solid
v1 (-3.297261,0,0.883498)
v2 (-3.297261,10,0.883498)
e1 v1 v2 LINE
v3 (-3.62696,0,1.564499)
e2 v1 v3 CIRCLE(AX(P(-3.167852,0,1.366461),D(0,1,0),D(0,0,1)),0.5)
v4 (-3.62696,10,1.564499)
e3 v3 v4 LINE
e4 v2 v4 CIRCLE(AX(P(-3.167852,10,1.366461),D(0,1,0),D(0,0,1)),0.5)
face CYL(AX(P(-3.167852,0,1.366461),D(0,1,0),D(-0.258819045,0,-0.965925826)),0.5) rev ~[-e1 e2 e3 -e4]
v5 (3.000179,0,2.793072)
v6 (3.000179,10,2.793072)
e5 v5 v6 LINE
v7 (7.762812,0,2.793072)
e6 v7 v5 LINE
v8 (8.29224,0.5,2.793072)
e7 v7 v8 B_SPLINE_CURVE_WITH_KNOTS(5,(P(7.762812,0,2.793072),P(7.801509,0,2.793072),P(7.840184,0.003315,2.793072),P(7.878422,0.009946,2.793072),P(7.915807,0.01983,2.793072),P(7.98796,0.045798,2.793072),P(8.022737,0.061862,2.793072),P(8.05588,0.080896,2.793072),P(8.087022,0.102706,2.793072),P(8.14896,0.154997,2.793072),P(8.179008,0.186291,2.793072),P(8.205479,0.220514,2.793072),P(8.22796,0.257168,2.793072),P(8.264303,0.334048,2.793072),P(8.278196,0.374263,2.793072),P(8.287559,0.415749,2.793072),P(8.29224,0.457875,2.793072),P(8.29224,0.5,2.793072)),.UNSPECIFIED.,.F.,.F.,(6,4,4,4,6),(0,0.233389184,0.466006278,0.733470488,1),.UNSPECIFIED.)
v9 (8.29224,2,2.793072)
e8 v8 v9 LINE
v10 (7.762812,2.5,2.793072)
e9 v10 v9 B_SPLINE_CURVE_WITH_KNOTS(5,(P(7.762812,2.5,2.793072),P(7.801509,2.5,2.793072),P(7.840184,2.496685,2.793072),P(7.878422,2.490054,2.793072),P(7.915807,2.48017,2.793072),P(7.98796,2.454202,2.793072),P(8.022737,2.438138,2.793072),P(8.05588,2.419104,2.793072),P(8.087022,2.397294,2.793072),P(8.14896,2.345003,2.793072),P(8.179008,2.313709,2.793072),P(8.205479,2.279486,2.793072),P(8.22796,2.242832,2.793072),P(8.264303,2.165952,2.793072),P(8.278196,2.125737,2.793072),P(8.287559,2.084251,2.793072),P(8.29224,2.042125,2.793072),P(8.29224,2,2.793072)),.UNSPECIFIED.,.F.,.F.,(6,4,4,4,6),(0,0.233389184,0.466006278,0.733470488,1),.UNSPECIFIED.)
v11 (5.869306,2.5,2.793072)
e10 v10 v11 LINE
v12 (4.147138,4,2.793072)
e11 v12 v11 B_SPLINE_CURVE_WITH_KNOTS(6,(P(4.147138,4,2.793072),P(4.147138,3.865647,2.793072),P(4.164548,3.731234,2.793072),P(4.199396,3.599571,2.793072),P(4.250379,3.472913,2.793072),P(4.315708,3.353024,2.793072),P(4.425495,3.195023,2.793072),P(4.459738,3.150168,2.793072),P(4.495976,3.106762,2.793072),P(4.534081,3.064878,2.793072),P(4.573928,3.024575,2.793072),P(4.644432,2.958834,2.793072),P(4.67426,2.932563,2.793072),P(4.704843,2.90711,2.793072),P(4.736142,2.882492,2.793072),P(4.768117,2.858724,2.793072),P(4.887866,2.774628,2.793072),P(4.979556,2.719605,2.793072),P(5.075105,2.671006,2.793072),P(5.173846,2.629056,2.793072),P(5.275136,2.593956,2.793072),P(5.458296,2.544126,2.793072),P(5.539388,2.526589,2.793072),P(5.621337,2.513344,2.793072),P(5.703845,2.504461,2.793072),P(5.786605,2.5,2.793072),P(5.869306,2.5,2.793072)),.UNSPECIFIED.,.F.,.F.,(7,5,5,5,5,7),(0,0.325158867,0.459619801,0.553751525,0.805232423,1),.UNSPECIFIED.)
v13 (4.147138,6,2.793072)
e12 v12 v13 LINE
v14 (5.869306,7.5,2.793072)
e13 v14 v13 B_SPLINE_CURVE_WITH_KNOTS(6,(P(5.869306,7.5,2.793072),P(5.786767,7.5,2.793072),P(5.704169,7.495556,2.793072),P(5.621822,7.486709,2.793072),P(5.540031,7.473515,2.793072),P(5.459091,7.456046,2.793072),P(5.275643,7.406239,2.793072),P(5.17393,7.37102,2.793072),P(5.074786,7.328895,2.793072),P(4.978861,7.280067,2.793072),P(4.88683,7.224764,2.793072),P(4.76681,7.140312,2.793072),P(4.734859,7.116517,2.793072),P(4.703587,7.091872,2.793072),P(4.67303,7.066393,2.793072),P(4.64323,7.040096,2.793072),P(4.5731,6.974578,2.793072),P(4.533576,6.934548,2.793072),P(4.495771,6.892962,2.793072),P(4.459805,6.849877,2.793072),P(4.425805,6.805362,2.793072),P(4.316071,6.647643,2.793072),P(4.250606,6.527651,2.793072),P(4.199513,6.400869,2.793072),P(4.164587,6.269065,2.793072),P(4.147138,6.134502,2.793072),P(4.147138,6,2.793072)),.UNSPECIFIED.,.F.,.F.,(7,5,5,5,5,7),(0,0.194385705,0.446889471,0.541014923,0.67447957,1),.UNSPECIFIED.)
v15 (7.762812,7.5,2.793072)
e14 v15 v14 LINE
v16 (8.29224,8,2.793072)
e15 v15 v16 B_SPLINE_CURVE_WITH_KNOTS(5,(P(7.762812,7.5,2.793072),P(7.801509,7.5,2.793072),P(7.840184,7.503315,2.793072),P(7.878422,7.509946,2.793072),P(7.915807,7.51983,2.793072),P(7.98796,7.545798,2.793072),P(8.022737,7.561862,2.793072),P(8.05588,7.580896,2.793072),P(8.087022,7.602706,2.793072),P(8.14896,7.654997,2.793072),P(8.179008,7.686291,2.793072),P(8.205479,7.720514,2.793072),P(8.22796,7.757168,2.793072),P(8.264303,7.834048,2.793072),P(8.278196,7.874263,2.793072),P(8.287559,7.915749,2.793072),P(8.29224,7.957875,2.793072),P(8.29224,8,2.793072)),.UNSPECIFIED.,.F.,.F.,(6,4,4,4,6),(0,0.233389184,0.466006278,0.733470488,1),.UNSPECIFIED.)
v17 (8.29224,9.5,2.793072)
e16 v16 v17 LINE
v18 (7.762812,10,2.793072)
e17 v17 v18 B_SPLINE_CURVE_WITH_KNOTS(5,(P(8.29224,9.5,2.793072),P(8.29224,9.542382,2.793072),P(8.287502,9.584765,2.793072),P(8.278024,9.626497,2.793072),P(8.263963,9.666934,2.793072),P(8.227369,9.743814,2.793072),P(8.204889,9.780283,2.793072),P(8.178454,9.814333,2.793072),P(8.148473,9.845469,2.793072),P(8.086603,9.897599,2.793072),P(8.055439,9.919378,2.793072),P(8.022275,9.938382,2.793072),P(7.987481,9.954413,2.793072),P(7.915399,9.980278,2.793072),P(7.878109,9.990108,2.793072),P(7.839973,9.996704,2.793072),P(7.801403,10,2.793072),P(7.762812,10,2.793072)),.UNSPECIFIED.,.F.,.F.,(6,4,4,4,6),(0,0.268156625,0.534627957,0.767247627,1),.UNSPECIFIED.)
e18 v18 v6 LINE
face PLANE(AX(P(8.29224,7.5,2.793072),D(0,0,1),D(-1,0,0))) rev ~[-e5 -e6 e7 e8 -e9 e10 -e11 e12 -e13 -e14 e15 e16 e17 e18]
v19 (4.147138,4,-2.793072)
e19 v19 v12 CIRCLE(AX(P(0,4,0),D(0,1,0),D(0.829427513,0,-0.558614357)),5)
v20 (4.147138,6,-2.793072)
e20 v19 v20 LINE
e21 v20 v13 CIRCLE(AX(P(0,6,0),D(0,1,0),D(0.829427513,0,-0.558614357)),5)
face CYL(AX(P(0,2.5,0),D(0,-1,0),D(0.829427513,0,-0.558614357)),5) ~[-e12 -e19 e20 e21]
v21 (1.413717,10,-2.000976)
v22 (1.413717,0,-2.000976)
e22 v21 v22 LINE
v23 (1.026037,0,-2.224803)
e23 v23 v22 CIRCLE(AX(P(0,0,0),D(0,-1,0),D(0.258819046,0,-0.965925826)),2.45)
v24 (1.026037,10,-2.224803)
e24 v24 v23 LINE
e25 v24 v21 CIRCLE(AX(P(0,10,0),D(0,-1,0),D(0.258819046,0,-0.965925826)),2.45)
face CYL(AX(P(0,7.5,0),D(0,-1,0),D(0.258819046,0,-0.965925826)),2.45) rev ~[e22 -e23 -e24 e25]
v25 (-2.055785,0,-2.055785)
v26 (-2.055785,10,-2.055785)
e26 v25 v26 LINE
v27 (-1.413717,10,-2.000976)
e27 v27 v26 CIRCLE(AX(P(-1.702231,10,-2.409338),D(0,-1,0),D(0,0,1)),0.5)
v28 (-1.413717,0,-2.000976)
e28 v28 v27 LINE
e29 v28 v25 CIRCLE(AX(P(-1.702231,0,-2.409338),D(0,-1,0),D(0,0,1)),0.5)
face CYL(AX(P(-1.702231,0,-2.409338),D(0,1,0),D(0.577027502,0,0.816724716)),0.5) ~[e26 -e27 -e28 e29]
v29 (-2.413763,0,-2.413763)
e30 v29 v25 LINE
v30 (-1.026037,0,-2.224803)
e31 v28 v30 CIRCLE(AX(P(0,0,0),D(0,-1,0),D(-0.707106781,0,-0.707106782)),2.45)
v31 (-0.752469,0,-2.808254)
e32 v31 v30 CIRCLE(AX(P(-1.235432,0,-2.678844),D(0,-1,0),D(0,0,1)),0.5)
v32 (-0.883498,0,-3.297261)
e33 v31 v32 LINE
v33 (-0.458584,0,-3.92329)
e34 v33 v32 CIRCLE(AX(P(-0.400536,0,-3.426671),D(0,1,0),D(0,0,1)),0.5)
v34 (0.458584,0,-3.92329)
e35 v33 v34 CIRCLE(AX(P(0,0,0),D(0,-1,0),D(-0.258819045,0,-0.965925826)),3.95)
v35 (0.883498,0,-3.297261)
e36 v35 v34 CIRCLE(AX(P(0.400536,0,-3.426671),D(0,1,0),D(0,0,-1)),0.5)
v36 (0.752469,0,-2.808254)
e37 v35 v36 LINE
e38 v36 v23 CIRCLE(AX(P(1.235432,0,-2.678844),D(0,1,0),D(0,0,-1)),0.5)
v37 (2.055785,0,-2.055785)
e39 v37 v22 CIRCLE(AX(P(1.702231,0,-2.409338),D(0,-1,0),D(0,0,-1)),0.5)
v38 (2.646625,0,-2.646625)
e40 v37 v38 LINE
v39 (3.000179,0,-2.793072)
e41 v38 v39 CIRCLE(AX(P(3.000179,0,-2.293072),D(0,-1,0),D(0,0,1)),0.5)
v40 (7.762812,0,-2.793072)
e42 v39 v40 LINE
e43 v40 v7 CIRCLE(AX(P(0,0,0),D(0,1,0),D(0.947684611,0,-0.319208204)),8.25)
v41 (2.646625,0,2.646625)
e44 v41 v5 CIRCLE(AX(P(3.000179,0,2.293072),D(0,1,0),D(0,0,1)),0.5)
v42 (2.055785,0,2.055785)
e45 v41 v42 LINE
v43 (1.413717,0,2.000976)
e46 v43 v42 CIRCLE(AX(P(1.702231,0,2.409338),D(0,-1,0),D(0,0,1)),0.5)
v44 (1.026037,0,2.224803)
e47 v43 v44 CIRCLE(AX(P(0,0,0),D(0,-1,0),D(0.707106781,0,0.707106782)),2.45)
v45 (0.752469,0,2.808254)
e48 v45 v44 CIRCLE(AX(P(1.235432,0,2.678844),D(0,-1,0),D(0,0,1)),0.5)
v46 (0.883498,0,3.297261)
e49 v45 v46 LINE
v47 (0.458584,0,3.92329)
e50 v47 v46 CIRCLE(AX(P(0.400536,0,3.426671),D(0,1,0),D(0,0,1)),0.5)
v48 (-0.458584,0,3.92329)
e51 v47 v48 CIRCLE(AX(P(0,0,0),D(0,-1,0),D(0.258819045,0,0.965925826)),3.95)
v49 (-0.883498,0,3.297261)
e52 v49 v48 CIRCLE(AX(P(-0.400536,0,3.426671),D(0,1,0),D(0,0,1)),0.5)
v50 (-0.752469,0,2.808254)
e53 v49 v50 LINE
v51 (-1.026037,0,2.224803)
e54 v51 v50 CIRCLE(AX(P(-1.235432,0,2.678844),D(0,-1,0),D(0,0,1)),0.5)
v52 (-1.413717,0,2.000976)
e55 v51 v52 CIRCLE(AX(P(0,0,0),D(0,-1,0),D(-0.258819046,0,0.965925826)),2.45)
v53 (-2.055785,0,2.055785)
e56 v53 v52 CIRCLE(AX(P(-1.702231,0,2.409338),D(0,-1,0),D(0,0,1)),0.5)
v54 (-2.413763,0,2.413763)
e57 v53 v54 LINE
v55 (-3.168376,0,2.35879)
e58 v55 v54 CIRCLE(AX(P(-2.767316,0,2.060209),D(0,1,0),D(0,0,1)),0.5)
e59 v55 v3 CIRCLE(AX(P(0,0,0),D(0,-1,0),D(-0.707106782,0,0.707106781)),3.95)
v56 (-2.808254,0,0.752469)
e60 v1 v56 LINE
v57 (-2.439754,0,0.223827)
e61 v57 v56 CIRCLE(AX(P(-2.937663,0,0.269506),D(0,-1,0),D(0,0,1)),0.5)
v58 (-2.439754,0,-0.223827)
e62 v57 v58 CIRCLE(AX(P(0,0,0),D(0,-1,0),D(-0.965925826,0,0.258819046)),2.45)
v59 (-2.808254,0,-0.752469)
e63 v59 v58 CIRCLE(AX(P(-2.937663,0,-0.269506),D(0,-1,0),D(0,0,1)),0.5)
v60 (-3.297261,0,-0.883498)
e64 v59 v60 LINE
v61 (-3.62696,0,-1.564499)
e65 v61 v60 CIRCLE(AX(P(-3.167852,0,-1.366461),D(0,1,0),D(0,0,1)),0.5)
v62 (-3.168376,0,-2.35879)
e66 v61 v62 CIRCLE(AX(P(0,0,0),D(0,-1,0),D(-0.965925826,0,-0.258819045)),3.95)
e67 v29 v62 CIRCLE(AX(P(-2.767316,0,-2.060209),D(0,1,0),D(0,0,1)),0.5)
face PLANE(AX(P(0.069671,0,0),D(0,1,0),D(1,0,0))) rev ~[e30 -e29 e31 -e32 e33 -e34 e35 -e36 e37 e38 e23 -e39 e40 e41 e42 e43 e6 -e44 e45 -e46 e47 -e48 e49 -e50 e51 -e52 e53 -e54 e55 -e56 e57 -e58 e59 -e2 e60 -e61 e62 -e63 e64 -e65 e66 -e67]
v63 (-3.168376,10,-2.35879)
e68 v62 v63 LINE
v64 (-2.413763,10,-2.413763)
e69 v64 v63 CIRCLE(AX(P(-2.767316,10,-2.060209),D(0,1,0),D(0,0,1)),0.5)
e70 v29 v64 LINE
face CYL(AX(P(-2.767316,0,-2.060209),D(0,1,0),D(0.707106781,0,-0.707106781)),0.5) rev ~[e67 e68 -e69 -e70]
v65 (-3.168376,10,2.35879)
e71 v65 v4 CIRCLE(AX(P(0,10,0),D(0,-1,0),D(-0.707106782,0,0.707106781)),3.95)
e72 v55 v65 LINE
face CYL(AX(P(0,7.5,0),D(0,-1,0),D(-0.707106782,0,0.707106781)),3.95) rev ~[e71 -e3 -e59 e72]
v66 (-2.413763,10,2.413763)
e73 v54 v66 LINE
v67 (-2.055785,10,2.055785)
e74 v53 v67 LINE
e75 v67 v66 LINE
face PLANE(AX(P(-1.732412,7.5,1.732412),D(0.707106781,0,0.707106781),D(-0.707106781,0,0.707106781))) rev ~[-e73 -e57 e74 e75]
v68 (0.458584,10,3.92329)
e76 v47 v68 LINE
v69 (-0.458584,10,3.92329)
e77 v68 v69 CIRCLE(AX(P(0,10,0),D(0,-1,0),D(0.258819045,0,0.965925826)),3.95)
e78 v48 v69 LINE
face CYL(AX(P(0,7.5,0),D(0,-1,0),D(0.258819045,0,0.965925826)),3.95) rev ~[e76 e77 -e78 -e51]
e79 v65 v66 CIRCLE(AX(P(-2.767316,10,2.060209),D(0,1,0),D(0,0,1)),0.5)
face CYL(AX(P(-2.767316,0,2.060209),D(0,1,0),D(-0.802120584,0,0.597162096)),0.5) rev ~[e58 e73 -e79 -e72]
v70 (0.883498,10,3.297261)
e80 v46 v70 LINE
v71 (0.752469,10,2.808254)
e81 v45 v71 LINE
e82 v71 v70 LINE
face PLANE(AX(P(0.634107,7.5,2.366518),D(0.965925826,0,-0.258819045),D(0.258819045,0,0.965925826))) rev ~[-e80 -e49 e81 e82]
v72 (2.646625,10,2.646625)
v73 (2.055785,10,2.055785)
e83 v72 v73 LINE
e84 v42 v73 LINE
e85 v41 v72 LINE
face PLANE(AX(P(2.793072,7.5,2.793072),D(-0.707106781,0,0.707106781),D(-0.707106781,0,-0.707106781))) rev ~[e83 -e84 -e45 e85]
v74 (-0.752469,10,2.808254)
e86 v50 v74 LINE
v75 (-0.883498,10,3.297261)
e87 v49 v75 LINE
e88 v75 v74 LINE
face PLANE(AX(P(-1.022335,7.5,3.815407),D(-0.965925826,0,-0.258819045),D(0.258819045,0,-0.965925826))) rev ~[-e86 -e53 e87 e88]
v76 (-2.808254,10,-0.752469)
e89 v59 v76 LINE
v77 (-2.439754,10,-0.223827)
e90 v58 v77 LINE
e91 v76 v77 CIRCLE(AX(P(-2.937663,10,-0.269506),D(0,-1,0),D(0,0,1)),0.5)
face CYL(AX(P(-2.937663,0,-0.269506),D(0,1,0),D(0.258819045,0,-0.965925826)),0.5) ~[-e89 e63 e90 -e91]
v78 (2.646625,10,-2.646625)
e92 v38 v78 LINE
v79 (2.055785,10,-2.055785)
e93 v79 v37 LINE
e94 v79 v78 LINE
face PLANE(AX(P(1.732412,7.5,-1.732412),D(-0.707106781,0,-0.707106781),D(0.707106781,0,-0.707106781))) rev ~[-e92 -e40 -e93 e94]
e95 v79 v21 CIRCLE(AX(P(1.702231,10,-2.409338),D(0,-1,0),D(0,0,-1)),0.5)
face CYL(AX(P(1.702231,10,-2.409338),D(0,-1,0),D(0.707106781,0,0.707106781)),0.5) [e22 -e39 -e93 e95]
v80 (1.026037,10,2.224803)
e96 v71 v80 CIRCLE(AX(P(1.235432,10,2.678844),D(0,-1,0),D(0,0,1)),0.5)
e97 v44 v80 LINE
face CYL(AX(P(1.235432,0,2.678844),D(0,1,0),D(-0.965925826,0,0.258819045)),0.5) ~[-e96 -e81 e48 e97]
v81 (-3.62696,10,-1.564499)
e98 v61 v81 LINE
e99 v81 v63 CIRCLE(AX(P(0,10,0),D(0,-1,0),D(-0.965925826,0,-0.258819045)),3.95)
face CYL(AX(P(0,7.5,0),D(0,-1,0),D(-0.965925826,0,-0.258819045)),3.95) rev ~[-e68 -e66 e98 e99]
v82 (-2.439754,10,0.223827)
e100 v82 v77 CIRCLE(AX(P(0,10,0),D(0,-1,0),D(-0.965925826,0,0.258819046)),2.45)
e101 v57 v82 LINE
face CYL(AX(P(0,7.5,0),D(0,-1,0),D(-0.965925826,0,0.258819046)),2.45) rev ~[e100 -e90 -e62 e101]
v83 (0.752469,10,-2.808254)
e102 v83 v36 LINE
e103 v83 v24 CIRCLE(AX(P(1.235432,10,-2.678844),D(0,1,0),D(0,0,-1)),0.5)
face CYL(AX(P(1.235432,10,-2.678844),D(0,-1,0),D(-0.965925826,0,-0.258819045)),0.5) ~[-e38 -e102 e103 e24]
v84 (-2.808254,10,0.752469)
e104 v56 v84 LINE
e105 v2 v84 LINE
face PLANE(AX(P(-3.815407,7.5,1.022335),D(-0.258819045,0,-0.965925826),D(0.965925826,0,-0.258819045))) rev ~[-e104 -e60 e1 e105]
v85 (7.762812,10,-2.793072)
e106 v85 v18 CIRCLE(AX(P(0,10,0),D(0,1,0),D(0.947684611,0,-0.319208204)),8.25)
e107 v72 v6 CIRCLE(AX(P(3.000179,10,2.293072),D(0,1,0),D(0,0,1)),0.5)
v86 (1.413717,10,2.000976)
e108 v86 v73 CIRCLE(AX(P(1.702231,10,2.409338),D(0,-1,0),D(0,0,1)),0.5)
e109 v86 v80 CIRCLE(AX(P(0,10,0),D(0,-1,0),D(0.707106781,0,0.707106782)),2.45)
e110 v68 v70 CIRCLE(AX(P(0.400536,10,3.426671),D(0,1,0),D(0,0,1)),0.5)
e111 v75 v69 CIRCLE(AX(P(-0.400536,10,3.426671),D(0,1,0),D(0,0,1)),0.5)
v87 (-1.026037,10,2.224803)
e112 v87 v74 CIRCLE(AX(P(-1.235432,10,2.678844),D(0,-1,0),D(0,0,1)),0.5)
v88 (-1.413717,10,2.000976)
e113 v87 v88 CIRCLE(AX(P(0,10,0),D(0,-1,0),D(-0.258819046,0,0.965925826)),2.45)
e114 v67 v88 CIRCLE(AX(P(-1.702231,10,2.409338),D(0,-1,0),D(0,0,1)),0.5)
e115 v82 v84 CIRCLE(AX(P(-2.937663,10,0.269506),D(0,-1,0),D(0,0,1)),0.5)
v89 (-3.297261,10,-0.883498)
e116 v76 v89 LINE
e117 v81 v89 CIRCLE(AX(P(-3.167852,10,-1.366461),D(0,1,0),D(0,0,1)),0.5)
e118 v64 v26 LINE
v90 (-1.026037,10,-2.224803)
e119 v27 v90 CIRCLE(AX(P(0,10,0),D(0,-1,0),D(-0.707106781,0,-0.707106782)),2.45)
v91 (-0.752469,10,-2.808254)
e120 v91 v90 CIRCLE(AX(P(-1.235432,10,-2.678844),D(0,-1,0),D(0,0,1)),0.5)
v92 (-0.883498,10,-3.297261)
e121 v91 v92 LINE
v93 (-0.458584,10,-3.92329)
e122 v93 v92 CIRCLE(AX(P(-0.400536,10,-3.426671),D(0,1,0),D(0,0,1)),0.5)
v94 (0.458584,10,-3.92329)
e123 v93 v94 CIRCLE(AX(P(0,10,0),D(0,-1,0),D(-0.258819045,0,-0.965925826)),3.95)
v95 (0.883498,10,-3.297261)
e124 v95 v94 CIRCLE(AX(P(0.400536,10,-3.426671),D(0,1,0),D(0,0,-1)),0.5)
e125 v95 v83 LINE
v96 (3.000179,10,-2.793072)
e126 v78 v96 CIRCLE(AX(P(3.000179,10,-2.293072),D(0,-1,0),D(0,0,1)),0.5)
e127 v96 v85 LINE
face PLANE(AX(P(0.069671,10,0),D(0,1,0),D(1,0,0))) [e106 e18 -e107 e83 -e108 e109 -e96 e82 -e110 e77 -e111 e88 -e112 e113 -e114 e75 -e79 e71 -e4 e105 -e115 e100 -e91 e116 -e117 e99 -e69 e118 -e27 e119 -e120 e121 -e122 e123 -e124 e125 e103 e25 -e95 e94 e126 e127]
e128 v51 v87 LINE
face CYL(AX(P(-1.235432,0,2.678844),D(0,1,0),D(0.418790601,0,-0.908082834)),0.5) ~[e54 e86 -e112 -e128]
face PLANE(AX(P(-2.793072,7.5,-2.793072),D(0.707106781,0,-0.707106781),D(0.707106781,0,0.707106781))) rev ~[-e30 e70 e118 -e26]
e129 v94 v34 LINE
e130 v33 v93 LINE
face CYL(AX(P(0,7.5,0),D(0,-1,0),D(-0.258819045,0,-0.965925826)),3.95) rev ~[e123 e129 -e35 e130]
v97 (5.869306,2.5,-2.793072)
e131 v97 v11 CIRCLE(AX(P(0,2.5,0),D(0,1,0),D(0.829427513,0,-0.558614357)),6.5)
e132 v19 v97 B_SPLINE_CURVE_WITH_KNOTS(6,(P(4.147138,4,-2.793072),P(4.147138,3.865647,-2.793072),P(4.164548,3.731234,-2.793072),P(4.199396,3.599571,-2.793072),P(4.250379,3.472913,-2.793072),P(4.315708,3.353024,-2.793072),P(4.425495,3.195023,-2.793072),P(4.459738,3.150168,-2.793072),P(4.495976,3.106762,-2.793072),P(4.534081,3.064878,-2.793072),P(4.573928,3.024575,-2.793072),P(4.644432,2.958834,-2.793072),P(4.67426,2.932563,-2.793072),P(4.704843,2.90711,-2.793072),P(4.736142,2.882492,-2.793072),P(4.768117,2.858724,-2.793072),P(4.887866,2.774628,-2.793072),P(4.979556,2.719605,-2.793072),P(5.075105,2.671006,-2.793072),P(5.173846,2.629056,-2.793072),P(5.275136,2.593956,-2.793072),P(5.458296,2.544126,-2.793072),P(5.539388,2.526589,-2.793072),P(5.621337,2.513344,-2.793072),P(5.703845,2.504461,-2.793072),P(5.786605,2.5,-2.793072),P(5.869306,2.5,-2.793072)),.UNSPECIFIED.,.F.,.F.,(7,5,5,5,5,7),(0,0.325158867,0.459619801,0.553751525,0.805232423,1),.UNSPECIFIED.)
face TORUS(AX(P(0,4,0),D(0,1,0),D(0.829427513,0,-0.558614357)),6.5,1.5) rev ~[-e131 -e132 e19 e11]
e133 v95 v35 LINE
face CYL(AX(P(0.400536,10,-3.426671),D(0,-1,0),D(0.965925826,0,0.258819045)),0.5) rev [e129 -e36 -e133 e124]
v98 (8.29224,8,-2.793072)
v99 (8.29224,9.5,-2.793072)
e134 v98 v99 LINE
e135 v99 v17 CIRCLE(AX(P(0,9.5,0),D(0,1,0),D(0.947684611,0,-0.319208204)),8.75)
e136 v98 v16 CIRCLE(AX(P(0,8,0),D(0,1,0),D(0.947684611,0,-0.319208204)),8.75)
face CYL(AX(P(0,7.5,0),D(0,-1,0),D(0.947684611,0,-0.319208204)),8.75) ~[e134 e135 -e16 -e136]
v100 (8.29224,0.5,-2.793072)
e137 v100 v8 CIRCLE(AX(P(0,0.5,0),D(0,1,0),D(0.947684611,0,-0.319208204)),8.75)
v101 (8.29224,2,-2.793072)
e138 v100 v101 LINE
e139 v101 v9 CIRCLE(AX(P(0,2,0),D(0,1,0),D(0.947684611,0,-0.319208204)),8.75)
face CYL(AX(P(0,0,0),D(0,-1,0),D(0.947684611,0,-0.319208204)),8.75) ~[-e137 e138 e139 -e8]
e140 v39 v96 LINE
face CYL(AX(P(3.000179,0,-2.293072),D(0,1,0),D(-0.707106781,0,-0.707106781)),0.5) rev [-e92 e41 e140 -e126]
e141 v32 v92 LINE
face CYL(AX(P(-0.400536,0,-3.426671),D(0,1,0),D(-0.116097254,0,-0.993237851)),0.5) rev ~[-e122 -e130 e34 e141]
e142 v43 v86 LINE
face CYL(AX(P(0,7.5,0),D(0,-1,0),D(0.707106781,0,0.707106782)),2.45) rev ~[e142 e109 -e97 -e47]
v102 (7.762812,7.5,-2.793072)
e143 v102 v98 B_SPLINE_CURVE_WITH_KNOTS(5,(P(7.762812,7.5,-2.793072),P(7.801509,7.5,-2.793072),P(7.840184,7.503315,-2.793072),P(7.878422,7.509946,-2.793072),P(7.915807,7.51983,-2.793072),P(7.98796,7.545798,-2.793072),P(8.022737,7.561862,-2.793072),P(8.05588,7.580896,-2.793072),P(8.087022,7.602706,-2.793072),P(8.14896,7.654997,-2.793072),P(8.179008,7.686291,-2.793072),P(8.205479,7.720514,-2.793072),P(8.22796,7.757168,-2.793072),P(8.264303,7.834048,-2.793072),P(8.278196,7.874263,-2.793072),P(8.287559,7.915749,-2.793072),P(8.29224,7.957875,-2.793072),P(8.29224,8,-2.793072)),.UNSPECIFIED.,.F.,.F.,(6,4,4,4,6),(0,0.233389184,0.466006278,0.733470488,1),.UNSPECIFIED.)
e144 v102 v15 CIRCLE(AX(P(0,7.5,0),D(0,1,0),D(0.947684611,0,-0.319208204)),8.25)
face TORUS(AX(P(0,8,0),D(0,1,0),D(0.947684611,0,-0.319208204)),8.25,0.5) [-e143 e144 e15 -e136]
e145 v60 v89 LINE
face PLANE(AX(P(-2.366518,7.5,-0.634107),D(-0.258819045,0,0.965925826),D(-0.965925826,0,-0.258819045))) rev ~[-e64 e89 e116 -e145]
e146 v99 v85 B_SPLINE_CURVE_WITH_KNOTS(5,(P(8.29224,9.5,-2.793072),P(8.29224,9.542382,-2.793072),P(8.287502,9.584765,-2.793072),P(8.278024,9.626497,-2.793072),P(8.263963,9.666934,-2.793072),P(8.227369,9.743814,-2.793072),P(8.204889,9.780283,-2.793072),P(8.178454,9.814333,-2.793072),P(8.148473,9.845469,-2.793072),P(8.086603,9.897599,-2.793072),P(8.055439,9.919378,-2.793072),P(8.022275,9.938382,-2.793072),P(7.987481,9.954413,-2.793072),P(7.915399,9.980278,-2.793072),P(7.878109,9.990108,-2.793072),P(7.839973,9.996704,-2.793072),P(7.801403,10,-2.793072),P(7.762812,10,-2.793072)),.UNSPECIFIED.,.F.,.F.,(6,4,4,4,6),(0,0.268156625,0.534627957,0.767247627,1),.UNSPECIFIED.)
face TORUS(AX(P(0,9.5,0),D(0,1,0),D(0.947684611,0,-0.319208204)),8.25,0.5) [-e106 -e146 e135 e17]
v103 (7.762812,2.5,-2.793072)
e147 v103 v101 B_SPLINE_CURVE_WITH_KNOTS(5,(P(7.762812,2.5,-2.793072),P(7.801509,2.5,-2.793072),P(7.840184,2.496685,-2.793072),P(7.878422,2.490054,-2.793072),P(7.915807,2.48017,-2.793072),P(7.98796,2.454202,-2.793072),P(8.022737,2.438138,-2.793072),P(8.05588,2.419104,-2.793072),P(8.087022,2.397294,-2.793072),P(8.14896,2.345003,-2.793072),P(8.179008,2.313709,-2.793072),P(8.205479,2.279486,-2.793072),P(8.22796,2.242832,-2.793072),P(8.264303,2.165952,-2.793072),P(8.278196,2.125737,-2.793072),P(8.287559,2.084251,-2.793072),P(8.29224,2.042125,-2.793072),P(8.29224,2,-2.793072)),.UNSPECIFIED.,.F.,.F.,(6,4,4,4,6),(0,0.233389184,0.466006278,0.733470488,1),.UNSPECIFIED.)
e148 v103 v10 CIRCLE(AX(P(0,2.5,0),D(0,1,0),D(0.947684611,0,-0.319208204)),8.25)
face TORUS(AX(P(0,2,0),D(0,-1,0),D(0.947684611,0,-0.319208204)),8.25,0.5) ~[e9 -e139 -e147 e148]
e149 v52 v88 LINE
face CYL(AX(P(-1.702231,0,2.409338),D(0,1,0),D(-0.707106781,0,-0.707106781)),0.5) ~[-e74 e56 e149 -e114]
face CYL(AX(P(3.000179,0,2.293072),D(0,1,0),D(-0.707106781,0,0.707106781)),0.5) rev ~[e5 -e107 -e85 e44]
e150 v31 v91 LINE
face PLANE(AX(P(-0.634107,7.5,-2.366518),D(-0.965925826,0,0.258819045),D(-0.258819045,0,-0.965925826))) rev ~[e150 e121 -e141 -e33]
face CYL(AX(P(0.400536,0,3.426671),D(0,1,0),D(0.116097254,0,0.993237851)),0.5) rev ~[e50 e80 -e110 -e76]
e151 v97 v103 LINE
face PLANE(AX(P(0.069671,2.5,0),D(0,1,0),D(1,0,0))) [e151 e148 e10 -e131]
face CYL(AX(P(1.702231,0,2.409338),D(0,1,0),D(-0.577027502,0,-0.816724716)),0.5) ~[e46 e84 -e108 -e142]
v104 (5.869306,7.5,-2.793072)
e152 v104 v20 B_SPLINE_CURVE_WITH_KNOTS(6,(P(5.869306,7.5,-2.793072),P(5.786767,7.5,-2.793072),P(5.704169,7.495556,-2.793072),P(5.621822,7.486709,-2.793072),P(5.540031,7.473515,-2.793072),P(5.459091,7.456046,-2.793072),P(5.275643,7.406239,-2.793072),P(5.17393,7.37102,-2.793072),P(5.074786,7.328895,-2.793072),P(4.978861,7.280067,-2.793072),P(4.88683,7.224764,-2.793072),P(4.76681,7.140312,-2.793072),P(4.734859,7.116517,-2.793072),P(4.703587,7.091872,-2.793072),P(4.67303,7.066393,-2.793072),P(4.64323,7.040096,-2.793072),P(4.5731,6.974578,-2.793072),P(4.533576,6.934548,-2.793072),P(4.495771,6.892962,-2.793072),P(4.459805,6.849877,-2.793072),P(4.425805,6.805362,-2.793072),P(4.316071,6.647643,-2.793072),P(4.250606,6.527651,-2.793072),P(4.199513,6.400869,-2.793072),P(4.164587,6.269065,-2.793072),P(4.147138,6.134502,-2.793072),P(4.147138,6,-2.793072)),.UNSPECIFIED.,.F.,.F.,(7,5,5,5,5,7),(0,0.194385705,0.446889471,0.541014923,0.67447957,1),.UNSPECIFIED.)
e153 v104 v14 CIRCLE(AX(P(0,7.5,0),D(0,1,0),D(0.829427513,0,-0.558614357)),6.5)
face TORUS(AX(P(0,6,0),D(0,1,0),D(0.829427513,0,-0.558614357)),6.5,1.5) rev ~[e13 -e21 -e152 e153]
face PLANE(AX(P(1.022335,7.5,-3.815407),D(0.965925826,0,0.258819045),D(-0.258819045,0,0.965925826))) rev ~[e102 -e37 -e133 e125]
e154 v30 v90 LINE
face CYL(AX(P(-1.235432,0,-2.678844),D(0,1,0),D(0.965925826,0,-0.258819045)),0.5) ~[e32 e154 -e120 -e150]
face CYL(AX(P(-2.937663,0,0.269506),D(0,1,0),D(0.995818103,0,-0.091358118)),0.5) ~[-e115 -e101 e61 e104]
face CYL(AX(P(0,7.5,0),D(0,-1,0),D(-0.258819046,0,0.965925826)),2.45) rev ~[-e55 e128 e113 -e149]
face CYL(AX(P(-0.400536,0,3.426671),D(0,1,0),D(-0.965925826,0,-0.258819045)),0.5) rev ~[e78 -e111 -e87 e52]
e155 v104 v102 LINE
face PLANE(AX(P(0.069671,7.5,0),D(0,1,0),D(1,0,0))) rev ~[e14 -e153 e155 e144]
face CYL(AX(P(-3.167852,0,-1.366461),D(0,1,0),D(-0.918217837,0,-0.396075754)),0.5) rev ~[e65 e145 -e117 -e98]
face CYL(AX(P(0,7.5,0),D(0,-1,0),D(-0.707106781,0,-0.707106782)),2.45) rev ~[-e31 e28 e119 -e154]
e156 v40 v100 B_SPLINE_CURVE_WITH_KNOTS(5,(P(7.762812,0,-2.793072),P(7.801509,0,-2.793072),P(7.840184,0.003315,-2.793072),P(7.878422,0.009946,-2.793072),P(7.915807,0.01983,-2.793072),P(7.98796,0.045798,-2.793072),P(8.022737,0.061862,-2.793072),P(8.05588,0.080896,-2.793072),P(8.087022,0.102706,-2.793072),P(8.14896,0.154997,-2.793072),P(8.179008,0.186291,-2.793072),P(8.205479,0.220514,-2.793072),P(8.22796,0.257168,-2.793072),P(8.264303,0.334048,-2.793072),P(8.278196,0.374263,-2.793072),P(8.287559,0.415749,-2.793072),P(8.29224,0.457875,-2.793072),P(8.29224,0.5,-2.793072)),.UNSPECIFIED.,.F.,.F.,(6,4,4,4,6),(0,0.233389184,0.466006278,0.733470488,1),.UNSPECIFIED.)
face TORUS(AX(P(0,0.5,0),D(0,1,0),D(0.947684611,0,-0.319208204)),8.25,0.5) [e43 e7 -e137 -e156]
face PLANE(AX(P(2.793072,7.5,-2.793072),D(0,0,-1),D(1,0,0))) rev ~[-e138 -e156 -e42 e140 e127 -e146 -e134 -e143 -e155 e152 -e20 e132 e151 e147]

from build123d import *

# Parameters (mm, degrees)
BOSS_EXTRUDE1_DEPTH = 2.5
BOSS_EXTRUDE2_DEPTH = 5
BOSS_EXTRUDE3_DEPTH = 2.5
FILLET1_R           = 0.5
FILLET2_R           = 1.5
FILLET3_R           = 0.5


with BuildPart() as part:
    # Sketch1 → Boss-Extrude1 (new body)
    with BuildSketch(Plane(origin=(0, 0, 0), x_dir=(1, 0, 0), z_dir=(0, 1, 0))):
        with BuildLine():
            Line((2.793071786, 2.793071786), (8.292240349, 2.793071786))
            ThreePointArc((8.292240349, 2.793071786), (-8.75, 0), (8.292240349, -2.793071786))
            Line((8.292240349, -2.793071786), (2.793071786, -2.793071786))
            Line((2.793071786, -2.793071786), (1.732411614, -1.732411614))
            ThreePointArc((1.732411614, -1.732411614), (1.225, -2.121762239), (0.634106661, -2.366518274))
            Line((0.634106661, -2.366518274), (1.022335228, -3.815407014))
            ThreePointArc((1.022335228, -3.815407014), (0, -3.95), (-1.022335228, -3.815407014))
            Line((-1.022335228, -3.815407014), (-0.634106661, -2.366518274))
            ThreePointArc((-0.634106661, -2.366518274), (-1.225, -2.121762239), (-1.732411614, -1.732411614))
            Line((-1.732411614, -1.732411614), (-2.793071786, -2.793071786))
            ThreePointArc((-2.793071786, -2.793071786), (-3.420800345, -1.975), (-3.815407014, -1.022335228))
            Line((-3.815407014, -1.022335228), (-2.366518274, -0.634106661))
            ThreePointArc((-2.366518274, -0.634106661), (-2.45, 0), (-2.366518274, 0.634106661))
            Line((-2.366518274, 0.634106661), (-3.815407014, 1.022335228))
            ThreePointArc((-3.815407014, 1.022335228), (-3.420800345, 1.975), (-2.793071786, 2.793071786))
            Line((-2.793071786, 2.793071786), (-1.732411614, 1.732411614))
            ThreePointArc((-1.732411614, 1.732411614), (-1.225, 2.121762239), (-0.634106661, 2.366518274))
            Line((-0.634106661, 2.366518274), (-1.022335228, 3.815407014))
            ThreePointArc((-1.022335228, 3.815407014), (0, 3.95), (1.022335228, 3.815407014))
            Line((1.022335228, 3.815407014), (0.634106661, 2.366518274))
            ThreePointArc((0.634106661, 2.366518274), (1.225, 2.121762239), (1.732411614, 1.732411614))
            Line((1.732411614, 1.732411614), (2.793071786, 2.793071786))
        make_face()
    extrude(amount=BOSS_EXTRUDE1_DEPTH)

    # Sketch3 → Boss-Extrude2 (add)
    with BuildSketch(Plane(origin=(0, 2.5, 0), x_dir=(1, 0, 0), z_dir=(0, 1, 0))):
        with BuildLine():
            Line((2.793071786, 2.793071786), (4.147137567, 2.793071786))
            ThreePointArc((4.147137567, 2.793071786), (-5, 0), (4.147137567, -2.793071786))
            Line((4.147137567, -2.793071786), (2.793071786, -2.793071786))
            Line((2.793071786, -2.793071786), (1.732411614, -1.732411614))
            ThreePointArc((1.732411614, -1.732411614), (1.225, -2.121762239), (0.634106661, -2.366518274))
            Line((0.634106661, -2.366518274), (1.022335228, -3.815407014))
            ThreePointArc((1.022335228, -3.815407014), (0, -3.95), (-1.022335228, -3.815407014))
            Line((-1.022335228, -3.815407014), (-0.634106661, -2.366518274))
            ThreePointArc((-0.634106661, -2.366518274), (-1.225, -2.121762239), (-1.732411614, -1.732411614))
            Line((-1.732411614, -1.732411614), (-2.793071786, -2.793071786))
            ThreePointArc((-2.793071786, -2.793071786), (-3.420800345, -1.975), (-3.815407014, -1.022335228))
            Line((-3.815407014, -1.022335228), (-2.366518274, -0.634106661))
            ThreePointArc((-2.366518274, -0.634106661), (-2.45, 0), (-2.366518274, 0.634106661))
            Line((-2.366518274, 0.634106661), (-3.815407014, 1.022335228))
            ThreePointArc((-3.815407014, 1.022335228), (-3.420800345, 1.975), (-2.793071786, 2.793071786))
            Line((-2.793071786, 2.793071786), (-1.732411614, 1.732411614))
            ThreePointArc((-1.732411614, 1.732411614), (-1.225, 2.121762239), (-0.634106661, 2.366518274))
            Line((-0.634106661, 2.366518274), (-1.022335228, 3.815407014))
            ThreePointArc((-1.022335228, 3.815407014), (0, 3.95), (1.022335228, 3.815407014))
            Line((1.022335228, 3.815407014), (0.634106661, 2.366518274))
            ThreePointArc((0.634106661, 2.366518274), (1.225, 2.121762239), (1.732411614, 1.732411614))
            Line((1.732411614, 1.732411614), (2.793071786, 2.793071786))
        make_face()
    extrude(amount=BOSS_EXTRUDE2_DEPTH)

    # Sketch4 → Boss-Extrude3 (add)
    with BuildSketch(Plane(origin=(0, 7.5, 0), x_dir=(1, 0, 0), z_dir=(0, 1, 0))):
        with BuildLine():
            Line((1.732411614, 1.732411614), (2.793071786, 2.793071786))
            Line((2.793071786, 2.793071786), (8.292240349, 2.793071786))
            ThreePointArc((8.292240349, 2.793071786), (-8.75, 0), (8.292240349, -2.793071786))
            Line((8.292240349, -2.793071786), (2.793071786, -2.793071786))
            Line((2.793071786, -2.793071786), (1.732411614, -1.732411614))
            ThreePointArc((1.732411614, -1.732411614), (1.225, -2.121762239), (0.634106661, -2.366518274))
            Line((0.634106661, -2.366518274), (1.022335228, -3.815407014))
            ThreePointArc((1.022335228, -3.815407014), (0, -3.95), (-1.022335228, -3.815407014))
            Line((-1.022335228, -3.815407014), (-0.634106661, -2.366518274))
            ThreePointArc((-0.634106661, -2.366518274), (-1.225, -2.121762239), (-1.732411614, -1.732411614))
            Line((-1.732411614, -1.732411614), (-2.793071786, -2.793071786))
            ThreePointArc((-2.793071786, -2.793071786), (-3.420800345, -1.975), (-3.815407014, -1.022335228))
            Line((-3.815407014, -1.022335228), (-2.366518274, -0.634106661))
            ThreePointArc((-2.366518274, -0.634106661), (-2.45, 0), (-2.366518274, 0.634106661))
            Line((-2.366518274, 0.634106661), (-3.815407014, 1.022335228))
            ThreePointArc((-3.815407014, 1.022335228), (-3.420800345, 1.975), (-2.793071786, 2.793071786))
            Line((-2.793071786, 2.793071786), (-1.732411614, 1.732411614))
            ThreePointArc((-1.732411614, 1.732411614), (-1.225, 2.121762239), (-0.634106661, 2.366518274))
            Line((-0.634106661, 2.366518274), (-1.022335228, 3.815407014))
            ThreePointArc((-1.022335228, 3.815407014), (0, 3.95), (1.022335228, 3.815407014))
            Line((1.022335228, 3.815407014), (0.634106661, 2.366518274))
            ThreePointArc((0.634106661, 2.366518274), (1.225, 2.121762239), (1.732411614, 1.732411614))
        make_face()
    extrude(amount=BOSS_EXTRUDE3_DEPTH)

    # Fillet1
    fillet1_edges = [part.edges().sort_by_distance(p)[0] for p in [
        (-1.732411614, 5, -1.732411614),
        (-2.793071786, 5, -2.793071786),
        (-3.815407014, 5, -1.022335228),
        (-2.366518274, 5, -0.634106661),
        (-2.366518274, 5, 0.634106661),
        (-3.815407014, 5, 1.022335228),
        (-2.793071786, 5, 2.793071786),
        (-1.732411614, 5, 1.732411614),
        (-0.634106661, 5, 2.366518274),
        (-1.022335228, 5, 3.815407014),
        (1.022335228, 5, 3.815407014),
        (0.634106661, 5, 2.366518274),
        (1.732411614, 5, 1.732411614),
        (2.793071786, 5, 2.793071786),
        (2.793071786, 5, -2.793071786),
        (1.732411614, 5, -1.732411614),
        (0.634106661, 5, -2.366518274),
        (1.022335228, 5, -3.815407014),
        (-1.022335228, 5, -3.815407014),
        (-0.634106661, 5, -2.366518274),
    ]]
    fillet(fillet1_edges, radius=FILLET1_R)

    # Fillet2
    fillet2_edges = [part.edges().sort_by_distance(p)[0] for p in [
        (-5, 2.5, 0),
        (-5, 7.5, 0),
    ]]
    fillet(fillet2_edges, radius=FILLET2_R)

    # Fillet3
    fillet3_edges = [part.edges().sort_by_distance(p)[0] for p in [
        (-8.75, 7.5, 0),
        (-8.75, 10, 0),
        (-8.75, 0, 0),
        (-8.75, 2.5, 0),
    ]]
    fillet(fillet3_edges, radius=FILLET3_R)


solid = part.part
